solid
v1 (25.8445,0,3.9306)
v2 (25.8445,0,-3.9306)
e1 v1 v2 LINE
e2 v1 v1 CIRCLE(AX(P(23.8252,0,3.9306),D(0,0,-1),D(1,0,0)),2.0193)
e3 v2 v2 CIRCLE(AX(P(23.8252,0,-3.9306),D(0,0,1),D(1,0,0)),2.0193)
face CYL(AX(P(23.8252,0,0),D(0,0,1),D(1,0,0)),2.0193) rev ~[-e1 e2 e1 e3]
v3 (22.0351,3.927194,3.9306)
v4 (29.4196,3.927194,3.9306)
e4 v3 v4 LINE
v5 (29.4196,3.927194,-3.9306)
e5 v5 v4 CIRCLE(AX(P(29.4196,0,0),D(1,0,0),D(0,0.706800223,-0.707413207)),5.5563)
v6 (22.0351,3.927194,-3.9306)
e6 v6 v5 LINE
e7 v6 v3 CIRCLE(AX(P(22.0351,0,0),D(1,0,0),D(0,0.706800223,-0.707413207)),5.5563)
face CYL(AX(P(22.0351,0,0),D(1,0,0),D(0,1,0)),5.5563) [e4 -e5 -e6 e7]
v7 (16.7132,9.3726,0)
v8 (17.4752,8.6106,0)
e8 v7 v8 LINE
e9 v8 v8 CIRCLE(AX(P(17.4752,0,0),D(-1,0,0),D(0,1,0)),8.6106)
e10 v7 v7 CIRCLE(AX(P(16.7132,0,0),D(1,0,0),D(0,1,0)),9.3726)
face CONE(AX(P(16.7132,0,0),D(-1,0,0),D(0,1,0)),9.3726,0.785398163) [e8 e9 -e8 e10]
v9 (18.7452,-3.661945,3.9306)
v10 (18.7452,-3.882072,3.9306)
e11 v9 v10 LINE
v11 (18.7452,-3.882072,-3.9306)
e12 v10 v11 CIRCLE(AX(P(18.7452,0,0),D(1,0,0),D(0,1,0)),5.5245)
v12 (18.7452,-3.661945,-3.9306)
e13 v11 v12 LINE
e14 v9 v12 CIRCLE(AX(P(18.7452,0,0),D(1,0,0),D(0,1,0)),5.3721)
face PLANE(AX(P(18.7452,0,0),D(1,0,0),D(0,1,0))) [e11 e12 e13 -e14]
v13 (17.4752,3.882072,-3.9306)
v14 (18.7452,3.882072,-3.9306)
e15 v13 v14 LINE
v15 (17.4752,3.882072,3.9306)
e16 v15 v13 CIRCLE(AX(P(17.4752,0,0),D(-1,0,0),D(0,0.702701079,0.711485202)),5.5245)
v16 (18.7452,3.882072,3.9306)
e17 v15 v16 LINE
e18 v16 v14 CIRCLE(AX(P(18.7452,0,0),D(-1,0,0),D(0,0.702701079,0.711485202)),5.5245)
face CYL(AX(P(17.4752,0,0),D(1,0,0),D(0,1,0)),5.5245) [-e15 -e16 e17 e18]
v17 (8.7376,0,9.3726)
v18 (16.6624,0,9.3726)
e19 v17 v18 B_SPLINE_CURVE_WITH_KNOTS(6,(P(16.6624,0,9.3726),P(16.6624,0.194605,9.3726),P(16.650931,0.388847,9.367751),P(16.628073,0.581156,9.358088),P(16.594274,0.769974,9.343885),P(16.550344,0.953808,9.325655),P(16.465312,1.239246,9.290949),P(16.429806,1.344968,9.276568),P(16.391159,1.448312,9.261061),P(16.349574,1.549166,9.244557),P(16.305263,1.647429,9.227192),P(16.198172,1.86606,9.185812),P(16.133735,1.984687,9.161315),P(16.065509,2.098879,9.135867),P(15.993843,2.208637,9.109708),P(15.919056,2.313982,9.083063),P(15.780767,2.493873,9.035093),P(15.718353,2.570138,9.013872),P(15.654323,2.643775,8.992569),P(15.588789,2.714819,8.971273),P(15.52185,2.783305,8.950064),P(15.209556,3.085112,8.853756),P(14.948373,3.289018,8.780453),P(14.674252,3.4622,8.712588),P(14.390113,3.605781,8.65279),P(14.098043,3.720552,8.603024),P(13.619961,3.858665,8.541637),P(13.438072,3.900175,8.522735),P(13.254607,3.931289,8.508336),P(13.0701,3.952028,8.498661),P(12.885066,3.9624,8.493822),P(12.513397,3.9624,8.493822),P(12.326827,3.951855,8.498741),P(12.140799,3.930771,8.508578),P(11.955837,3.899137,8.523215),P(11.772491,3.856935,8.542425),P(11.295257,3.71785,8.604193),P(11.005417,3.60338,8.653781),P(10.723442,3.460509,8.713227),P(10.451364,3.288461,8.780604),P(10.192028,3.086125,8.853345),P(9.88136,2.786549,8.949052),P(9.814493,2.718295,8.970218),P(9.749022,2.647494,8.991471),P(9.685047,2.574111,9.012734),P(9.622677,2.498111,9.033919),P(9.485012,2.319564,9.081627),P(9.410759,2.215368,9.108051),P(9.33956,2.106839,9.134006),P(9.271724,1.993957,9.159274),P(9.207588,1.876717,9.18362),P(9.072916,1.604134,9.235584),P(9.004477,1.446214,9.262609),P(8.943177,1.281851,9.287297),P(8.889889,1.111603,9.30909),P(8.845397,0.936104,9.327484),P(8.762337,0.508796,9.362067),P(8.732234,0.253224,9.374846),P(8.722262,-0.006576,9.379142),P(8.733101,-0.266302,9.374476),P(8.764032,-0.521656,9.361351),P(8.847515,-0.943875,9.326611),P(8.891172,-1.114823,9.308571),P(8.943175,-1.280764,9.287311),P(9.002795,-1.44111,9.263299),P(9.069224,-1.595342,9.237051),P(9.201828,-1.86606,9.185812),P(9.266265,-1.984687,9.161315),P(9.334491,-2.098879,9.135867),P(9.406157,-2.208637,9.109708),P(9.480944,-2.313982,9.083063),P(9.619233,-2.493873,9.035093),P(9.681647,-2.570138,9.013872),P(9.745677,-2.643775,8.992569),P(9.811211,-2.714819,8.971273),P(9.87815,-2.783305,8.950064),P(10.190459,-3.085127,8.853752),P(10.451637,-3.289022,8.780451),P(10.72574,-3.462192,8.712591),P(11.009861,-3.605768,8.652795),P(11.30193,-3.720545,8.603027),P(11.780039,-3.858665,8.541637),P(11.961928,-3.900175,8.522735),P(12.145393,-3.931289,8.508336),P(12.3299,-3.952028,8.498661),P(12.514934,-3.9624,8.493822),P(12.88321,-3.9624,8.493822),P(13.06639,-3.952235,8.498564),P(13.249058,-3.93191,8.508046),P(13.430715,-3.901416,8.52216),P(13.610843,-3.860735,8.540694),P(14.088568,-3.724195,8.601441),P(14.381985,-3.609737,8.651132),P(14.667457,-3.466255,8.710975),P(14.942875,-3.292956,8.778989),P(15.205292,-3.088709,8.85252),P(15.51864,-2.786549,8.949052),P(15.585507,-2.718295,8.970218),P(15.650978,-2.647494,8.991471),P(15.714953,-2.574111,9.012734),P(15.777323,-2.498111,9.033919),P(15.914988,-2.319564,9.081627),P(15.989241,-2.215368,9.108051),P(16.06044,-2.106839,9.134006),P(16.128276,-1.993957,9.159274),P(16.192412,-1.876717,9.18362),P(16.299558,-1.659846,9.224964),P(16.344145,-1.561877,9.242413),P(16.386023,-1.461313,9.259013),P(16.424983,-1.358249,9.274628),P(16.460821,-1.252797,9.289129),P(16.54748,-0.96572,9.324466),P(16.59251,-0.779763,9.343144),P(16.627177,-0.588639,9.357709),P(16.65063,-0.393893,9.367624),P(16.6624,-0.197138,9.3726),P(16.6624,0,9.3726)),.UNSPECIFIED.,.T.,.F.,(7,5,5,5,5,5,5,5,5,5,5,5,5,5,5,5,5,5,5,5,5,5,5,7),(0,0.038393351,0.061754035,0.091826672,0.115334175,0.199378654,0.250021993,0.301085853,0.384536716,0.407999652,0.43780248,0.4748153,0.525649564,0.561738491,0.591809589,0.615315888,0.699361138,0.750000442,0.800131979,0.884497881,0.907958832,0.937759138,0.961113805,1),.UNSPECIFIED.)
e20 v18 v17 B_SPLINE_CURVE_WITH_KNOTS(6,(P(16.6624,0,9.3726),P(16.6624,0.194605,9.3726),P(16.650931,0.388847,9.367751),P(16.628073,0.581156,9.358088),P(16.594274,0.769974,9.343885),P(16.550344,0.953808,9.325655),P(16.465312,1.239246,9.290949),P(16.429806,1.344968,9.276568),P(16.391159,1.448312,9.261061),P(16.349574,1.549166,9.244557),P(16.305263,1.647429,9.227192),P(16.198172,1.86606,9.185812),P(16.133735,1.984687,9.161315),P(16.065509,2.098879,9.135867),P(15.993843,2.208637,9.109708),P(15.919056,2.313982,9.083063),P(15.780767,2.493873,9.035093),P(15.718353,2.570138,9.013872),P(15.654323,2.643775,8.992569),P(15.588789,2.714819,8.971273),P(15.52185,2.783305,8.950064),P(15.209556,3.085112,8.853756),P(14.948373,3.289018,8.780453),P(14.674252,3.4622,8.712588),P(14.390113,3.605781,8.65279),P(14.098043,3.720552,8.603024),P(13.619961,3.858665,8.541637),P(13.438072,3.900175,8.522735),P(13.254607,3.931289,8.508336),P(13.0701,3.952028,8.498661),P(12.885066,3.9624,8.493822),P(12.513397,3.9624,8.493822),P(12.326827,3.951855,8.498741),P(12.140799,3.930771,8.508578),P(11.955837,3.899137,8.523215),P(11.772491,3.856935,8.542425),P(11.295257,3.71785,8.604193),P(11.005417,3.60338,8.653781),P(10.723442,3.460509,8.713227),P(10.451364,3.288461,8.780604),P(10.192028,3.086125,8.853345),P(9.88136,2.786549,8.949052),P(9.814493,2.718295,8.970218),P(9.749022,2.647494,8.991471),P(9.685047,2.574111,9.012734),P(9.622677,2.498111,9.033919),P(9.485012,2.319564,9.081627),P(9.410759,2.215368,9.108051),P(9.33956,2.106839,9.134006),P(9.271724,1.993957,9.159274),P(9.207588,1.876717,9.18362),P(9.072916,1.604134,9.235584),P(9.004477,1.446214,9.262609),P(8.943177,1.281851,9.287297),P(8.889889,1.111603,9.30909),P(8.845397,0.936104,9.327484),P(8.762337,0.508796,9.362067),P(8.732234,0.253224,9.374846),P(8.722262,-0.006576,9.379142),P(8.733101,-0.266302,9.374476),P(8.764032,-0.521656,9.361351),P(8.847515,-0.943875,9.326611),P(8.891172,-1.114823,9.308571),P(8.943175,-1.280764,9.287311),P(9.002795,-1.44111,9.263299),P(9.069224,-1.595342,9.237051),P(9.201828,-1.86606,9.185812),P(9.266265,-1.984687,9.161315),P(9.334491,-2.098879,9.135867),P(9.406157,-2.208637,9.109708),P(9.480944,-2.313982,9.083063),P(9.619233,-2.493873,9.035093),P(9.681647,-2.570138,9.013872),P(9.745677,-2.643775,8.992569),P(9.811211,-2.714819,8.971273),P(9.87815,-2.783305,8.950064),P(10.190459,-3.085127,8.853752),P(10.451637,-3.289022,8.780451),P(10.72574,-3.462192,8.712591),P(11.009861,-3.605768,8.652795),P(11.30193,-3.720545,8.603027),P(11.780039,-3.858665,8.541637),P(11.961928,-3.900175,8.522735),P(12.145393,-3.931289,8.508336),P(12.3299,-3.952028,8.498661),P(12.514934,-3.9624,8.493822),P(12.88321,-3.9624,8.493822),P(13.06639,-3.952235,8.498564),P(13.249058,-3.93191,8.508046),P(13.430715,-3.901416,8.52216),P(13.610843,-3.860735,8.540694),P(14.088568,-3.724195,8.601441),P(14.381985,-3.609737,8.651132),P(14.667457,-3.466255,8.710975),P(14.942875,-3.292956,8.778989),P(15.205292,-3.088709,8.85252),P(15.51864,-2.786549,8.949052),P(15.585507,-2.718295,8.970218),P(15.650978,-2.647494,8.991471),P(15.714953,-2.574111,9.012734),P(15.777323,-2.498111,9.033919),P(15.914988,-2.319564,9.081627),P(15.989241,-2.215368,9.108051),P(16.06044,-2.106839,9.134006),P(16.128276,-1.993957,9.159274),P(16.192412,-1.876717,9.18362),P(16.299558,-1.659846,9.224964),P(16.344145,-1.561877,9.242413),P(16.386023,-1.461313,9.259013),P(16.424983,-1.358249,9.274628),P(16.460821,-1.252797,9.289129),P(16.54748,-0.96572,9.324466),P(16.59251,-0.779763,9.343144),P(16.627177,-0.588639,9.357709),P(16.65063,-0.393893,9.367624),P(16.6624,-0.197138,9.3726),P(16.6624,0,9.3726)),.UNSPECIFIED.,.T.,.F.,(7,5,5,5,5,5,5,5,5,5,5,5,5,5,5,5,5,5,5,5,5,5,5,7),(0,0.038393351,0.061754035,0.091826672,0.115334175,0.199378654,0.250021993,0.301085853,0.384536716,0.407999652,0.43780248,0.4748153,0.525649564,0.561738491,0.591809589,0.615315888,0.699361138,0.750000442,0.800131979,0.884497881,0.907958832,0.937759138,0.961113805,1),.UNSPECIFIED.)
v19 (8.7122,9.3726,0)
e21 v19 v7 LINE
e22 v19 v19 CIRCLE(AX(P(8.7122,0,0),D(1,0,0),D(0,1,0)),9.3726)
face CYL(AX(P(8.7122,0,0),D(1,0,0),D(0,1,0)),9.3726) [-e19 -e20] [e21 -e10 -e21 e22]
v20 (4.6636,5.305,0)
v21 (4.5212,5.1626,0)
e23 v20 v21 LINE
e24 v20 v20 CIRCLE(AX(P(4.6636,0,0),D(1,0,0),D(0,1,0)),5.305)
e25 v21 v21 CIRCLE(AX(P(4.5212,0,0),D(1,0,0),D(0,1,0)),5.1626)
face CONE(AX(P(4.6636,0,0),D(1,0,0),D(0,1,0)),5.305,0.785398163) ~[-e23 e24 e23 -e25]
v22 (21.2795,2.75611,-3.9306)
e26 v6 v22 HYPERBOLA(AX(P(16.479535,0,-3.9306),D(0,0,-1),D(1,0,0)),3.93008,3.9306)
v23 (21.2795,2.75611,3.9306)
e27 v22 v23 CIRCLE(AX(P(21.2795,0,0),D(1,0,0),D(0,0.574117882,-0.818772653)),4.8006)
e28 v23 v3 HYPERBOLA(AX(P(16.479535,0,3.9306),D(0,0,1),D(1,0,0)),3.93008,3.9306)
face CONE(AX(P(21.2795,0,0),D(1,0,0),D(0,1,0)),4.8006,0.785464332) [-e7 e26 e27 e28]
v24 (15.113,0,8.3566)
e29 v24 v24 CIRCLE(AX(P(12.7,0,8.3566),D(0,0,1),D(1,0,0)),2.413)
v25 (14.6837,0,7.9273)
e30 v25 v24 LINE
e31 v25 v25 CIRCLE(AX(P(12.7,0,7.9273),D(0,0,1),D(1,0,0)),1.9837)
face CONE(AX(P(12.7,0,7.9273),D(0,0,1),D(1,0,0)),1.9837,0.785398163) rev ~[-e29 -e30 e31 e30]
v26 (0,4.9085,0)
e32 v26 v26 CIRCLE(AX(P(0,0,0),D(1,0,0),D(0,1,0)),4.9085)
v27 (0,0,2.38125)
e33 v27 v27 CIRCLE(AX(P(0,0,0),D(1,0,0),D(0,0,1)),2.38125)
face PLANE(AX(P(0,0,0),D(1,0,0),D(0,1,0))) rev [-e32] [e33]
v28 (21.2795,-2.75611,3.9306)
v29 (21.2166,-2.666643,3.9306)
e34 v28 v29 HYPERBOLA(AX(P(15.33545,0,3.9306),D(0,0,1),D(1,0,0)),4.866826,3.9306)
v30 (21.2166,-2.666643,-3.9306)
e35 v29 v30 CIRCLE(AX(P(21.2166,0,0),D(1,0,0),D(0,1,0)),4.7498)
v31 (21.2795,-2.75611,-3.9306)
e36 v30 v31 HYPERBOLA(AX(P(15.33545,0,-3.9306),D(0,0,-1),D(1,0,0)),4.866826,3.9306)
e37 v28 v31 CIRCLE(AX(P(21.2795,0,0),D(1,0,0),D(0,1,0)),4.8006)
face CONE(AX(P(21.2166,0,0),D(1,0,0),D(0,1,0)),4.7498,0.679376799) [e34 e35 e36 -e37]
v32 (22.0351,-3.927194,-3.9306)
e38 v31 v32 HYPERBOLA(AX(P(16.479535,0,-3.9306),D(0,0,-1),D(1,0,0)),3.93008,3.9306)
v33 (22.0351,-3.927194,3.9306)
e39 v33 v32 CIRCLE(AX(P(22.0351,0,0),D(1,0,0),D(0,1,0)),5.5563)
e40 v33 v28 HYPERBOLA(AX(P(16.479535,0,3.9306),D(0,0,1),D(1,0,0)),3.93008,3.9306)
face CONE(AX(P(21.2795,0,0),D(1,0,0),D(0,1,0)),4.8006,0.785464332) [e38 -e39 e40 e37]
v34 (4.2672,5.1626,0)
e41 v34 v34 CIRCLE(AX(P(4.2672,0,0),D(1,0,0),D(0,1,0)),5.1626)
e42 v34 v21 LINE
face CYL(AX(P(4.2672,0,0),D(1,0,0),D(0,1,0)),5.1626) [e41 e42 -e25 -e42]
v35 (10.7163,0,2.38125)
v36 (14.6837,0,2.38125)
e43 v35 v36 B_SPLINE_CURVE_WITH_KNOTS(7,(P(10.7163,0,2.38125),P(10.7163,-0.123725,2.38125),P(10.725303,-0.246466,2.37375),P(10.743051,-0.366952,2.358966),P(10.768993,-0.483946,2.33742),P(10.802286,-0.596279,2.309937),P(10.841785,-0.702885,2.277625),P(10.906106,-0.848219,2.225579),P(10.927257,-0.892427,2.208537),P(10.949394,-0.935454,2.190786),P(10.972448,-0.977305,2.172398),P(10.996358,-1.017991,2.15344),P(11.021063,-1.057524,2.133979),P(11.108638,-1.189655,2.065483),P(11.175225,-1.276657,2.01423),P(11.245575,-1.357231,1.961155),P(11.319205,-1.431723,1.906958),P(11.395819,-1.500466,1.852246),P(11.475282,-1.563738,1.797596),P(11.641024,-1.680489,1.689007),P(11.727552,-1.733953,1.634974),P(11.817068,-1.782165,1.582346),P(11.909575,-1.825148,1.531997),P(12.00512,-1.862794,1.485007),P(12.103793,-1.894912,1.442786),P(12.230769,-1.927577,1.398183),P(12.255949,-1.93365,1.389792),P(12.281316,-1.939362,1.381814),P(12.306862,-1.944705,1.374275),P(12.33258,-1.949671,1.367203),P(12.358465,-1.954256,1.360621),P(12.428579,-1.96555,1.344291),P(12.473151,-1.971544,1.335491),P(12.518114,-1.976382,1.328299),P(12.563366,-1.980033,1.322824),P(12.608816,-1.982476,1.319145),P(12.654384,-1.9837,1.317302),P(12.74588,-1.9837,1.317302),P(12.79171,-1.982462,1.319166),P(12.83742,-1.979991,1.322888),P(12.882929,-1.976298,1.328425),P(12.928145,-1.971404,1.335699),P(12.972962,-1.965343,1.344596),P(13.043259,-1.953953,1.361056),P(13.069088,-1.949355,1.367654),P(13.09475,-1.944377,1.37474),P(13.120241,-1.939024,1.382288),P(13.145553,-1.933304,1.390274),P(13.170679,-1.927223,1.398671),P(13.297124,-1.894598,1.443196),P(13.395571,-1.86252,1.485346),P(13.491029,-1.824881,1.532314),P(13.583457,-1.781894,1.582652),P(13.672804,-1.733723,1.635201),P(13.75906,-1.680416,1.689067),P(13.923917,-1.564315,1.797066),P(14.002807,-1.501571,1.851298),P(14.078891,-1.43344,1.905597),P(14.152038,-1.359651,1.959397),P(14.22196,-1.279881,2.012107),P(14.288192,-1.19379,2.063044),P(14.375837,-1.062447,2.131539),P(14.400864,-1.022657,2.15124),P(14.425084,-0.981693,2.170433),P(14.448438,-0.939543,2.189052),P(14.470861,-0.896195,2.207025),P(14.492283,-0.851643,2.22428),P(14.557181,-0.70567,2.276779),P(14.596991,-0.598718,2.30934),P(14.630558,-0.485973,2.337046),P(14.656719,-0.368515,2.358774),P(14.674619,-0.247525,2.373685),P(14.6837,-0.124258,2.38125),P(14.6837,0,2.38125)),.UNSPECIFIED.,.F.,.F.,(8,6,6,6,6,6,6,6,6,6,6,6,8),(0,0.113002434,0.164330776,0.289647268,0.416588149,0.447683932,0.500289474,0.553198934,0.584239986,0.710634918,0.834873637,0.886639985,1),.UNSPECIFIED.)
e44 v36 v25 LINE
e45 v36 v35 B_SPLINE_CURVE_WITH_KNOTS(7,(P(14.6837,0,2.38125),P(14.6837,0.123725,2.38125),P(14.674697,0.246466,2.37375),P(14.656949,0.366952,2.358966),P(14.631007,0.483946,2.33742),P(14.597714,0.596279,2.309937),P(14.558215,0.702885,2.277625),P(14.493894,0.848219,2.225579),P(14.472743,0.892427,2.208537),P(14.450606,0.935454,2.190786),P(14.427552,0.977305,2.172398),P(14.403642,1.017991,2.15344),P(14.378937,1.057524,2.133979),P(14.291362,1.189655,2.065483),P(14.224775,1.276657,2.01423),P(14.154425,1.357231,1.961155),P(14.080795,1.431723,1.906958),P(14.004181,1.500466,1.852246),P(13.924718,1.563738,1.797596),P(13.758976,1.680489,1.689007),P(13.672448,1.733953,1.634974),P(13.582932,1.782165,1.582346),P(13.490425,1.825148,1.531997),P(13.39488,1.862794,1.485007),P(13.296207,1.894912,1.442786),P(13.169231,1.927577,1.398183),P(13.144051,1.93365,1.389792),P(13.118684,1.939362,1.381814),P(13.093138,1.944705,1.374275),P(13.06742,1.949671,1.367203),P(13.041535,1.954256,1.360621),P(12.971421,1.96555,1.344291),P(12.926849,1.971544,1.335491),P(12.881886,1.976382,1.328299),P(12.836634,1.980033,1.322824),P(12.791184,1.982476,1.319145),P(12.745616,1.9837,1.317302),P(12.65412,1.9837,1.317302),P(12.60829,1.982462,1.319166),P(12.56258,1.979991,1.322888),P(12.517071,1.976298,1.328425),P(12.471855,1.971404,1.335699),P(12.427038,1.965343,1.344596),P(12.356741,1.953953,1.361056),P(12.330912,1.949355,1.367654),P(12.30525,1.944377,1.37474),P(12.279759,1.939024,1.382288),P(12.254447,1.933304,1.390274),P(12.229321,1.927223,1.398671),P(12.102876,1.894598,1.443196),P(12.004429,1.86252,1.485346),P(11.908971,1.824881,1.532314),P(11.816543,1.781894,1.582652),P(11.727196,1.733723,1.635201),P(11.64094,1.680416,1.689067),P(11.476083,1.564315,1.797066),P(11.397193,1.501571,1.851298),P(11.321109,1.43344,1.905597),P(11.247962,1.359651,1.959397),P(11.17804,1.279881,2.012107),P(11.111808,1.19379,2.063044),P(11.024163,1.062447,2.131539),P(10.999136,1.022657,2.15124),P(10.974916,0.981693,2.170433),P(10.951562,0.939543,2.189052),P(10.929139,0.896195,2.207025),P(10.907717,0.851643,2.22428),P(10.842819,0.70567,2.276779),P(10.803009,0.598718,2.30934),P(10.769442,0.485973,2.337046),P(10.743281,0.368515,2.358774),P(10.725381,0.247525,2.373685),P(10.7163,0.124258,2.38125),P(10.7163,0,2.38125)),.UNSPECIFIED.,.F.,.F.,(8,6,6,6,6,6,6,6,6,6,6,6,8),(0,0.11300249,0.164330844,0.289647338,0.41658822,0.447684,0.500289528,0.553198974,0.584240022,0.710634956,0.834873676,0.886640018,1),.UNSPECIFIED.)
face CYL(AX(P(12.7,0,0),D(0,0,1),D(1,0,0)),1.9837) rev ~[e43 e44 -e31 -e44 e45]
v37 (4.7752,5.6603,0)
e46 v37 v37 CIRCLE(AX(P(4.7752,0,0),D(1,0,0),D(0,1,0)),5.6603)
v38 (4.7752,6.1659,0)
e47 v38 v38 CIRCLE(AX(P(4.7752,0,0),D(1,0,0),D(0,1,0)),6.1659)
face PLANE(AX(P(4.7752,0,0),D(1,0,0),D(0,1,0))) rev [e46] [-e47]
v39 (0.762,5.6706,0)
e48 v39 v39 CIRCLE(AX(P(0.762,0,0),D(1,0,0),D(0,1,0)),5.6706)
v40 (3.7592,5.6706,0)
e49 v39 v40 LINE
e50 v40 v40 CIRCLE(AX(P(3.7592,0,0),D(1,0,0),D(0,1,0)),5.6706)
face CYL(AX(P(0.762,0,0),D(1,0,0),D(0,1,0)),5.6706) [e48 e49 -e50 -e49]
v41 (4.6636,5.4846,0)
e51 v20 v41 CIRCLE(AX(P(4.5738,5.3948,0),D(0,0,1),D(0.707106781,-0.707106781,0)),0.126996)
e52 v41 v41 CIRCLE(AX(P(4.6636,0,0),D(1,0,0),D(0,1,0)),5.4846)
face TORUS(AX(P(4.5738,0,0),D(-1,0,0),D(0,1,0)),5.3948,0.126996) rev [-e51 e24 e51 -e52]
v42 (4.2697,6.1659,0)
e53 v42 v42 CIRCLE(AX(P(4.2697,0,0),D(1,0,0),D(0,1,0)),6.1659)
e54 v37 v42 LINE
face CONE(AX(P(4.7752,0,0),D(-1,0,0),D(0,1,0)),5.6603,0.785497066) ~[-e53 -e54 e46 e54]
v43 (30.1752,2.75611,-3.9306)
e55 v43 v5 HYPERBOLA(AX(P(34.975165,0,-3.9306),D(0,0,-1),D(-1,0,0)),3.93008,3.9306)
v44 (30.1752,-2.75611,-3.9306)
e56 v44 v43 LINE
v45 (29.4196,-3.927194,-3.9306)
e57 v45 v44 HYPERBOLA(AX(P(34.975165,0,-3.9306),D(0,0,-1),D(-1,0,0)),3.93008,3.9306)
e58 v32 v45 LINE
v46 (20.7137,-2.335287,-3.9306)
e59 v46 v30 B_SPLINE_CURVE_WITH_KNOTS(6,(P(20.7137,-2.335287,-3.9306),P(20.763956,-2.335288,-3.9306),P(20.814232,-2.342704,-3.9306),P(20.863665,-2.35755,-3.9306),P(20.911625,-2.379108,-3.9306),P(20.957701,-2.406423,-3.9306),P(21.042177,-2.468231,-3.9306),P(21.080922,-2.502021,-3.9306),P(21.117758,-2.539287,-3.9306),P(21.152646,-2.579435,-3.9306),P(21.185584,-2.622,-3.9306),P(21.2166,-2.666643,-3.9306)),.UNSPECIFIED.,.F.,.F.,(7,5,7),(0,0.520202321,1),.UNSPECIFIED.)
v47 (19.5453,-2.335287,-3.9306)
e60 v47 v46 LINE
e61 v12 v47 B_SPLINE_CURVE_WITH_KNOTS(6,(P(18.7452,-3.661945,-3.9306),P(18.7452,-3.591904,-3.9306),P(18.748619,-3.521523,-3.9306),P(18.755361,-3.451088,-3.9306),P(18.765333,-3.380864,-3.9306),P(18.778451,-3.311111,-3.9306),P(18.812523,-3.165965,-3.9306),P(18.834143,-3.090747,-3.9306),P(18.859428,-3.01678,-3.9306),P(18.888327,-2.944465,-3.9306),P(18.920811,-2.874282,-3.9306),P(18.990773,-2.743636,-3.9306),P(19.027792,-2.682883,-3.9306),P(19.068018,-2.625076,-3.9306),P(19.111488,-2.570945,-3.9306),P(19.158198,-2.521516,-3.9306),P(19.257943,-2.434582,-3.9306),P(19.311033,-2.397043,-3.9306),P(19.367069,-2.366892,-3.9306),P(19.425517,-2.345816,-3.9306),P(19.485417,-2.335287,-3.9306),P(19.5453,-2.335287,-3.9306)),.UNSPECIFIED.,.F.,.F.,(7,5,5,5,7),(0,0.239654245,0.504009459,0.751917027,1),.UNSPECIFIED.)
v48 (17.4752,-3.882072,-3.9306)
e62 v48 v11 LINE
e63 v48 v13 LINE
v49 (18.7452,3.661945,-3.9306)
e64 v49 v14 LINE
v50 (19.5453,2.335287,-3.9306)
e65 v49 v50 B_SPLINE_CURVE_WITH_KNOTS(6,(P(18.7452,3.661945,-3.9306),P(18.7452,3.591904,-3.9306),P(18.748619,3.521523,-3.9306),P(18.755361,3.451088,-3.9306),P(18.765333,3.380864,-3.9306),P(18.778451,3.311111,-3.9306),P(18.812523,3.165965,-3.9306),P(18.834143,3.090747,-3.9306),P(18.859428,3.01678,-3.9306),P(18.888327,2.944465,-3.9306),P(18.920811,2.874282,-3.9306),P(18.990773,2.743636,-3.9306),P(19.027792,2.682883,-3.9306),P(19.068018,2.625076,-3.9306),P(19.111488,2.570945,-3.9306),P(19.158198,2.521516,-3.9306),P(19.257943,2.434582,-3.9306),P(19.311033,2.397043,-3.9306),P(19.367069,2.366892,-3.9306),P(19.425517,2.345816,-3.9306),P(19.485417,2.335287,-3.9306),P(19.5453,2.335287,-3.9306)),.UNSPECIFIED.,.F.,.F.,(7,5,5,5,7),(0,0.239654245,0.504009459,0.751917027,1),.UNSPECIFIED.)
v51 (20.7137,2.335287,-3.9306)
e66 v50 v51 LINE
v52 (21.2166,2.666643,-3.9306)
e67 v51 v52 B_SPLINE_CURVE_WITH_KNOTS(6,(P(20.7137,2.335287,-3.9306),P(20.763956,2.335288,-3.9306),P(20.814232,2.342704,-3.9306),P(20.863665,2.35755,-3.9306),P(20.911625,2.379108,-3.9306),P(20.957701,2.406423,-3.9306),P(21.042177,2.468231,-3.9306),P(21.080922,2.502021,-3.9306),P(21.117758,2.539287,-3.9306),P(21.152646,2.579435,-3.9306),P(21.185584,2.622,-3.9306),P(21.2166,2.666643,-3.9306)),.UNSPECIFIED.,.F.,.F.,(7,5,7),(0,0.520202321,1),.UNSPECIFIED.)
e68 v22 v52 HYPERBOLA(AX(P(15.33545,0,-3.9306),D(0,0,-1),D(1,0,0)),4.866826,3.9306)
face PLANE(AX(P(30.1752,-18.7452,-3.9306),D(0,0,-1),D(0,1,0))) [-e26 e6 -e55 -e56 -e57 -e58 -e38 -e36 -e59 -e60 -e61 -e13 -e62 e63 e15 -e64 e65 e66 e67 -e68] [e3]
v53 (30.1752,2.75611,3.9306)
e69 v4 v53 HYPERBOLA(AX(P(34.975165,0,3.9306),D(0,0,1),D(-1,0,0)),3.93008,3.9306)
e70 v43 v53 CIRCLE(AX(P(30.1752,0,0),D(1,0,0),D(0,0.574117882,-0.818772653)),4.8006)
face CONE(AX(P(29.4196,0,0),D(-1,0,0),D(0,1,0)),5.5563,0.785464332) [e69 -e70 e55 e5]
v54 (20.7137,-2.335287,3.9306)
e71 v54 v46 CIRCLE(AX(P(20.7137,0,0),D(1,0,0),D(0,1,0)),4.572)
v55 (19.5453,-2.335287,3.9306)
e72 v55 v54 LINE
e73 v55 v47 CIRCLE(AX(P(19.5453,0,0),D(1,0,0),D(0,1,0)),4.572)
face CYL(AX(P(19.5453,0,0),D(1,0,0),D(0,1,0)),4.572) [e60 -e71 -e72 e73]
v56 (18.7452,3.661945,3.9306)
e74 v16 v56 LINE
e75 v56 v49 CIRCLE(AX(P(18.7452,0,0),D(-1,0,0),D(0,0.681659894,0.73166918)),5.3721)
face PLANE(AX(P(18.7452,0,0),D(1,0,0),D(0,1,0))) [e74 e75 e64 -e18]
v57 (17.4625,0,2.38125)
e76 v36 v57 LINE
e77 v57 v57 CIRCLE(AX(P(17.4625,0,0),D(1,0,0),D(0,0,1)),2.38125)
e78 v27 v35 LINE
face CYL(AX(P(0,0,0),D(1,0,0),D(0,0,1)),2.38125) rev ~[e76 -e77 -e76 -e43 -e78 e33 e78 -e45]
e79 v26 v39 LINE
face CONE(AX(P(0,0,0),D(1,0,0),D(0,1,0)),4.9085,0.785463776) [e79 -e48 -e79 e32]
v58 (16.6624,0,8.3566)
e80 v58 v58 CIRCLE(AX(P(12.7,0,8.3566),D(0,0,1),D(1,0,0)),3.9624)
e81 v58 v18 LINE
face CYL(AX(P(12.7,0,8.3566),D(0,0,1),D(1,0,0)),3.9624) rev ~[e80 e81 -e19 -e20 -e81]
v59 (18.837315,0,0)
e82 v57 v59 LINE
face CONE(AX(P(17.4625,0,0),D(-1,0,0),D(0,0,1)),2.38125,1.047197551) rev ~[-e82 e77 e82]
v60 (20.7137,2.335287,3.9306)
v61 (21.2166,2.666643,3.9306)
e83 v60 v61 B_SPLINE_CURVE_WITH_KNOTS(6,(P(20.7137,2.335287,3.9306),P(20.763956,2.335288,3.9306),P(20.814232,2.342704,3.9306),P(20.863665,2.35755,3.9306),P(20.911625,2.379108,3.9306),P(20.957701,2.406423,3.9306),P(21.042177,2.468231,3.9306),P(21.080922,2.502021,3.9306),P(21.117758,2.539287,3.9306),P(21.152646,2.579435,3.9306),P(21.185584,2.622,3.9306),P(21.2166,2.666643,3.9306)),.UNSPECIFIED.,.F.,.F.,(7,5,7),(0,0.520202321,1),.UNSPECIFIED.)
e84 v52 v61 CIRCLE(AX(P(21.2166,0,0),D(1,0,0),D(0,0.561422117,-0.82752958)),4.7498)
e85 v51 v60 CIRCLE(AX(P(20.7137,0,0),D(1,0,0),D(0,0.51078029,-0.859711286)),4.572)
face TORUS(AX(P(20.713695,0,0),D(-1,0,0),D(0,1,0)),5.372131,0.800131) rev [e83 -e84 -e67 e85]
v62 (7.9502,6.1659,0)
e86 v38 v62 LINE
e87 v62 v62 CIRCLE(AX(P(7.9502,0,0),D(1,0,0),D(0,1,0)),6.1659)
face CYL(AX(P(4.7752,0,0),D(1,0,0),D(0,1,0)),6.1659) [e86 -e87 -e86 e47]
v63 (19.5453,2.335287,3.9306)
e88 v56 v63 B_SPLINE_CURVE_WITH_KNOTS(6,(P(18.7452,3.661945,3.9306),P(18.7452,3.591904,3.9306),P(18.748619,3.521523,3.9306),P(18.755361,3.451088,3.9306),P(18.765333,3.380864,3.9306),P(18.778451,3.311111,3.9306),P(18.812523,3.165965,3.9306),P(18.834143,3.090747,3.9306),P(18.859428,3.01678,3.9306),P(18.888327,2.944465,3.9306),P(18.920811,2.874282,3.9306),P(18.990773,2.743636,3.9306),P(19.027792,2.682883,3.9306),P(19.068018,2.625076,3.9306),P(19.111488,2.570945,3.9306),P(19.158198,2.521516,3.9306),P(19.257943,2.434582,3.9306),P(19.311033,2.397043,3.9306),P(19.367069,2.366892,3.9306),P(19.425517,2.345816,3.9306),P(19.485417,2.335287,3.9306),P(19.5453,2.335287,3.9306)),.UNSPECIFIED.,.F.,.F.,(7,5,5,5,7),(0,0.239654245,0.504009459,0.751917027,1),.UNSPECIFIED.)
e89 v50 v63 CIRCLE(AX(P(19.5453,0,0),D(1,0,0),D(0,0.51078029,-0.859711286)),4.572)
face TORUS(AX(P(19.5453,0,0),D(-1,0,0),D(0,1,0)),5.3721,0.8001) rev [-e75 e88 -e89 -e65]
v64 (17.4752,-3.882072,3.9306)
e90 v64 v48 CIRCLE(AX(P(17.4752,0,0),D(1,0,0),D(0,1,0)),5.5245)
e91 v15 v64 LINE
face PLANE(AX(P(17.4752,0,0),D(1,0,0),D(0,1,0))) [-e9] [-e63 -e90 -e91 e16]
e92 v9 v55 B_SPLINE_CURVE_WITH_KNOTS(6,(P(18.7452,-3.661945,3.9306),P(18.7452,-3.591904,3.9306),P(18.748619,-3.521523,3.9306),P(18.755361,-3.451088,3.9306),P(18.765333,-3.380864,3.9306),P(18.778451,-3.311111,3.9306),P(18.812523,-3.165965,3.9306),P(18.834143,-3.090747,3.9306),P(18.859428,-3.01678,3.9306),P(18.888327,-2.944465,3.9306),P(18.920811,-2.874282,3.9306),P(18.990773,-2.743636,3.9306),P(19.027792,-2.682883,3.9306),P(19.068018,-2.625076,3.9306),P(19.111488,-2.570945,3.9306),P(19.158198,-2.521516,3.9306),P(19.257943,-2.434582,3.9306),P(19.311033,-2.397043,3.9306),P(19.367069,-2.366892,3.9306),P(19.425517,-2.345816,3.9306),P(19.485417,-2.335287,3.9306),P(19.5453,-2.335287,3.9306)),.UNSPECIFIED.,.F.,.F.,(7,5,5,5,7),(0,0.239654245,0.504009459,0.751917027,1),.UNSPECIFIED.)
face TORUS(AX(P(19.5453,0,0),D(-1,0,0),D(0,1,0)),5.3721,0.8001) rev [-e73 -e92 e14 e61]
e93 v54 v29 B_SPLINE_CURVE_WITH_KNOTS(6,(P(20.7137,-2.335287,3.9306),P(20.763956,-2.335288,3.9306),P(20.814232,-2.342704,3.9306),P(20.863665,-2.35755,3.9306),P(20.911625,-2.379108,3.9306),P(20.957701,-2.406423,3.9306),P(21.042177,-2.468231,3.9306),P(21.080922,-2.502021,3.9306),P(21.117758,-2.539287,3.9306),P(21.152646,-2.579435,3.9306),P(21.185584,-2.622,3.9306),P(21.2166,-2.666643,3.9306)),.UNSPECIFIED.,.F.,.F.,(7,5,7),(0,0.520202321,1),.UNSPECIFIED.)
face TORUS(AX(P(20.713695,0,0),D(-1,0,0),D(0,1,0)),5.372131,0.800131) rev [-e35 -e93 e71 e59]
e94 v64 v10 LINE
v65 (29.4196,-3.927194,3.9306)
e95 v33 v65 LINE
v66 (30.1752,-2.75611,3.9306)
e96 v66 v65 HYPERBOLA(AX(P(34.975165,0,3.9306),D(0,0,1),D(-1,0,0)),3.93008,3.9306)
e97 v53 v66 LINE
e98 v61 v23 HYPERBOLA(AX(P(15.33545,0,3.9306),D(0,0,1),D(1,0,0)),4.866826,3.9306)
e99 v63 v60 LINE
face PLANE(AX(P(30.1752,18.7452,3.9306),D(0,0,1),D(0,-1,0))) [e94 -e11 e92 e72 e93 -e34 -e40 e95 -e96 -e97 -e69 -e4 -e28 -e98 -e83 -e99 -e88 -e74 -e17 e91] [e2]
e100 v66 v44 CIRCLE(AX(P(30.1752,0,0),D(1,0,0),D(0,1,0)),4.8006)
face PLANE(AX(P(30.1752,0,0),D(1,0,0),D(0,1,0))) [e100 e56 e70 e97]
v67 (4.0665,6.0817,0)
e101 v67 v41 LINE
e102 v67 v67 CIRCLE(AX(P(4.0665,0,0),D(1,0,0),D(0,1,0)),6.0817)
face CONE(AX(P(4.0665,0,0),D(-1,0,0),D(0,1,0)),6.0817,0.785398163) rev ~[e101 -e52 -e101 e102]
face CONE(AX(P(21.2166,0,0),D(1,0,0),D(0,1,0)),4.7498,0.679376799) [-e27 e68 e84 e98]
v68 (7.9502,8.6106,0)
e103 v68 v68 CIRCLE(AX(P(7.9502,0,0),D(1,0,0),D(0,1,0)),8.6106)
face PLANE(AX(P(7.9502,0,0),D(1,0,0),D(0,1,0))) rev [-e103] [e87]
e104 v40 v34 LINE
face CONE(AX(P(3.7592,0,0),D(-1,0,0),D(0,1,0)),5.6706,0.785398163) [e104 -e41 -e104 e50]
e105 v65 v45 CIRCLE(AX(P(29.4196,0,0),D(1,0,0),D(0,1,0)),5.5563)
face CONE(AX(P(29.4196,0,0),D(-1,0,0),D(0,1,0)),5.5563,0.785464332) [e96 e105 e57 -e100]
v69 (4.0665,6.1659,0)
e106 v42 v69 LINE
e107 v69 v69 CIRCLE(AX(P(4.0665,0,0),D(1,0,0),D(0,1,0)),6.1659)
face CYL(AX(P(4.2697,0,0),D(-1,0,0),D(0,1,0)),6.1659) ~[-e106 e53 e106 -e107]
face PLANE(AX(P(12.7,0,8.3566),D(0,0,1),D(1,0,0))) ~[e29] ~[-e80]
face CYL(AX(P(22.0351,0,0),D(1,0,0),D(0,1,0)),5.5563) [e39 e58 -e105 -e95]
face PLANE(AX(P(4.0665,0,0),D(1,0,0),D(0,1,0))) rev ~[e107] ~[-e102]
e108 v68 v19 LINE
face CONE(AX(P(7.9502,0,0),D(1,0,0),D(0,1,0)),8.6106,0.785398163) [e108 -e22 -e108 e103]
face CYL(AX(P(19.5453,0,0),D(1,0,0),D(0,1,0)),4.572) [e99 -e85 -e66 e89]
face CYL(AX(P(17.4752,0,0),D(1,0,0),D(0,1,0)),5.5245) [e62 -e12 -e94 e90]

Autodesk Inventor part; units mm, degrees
sketch "Sketch_8" plane through (0, 0, 0) normal (0, 0, 1) x (1, 0, 0)
  line L0 (17.4752, 0) -> (0, 0)
  line L1 (0, 0) -> (0, 4.9085)
  line L2 (0, 4.9085) -> (0.762, 5.6706)
  line L3 (0.762, 5.6706) -> (3.7592, 5.6706)
  line L4 (3.7592, 5.6706) -> (4.2672, 5.1626)
  line L5 (4.2672, 5.1626) -> (4.7752, 5.1626)
  line L6 (4.7752, 5.1626) -> (4.7752, 6.1659)
  line L7 (4.7752, 6.1659) -> (7.9502, 6.1659)
  line L8 (7.9502, 6.1659) -> (7.9502, 8.6106)
  line L9 (7.9502, 8.6106) -> (8.7122, 9.3726)
  line L10 (8.7122, 9.3726) -> (16.7132, 9.3726)
  line L11 (16.7132, 9.3726) -> (17.4752, 8.6106)
  line L12 (17.4752, 8.6106) -> (17.4752, 0)
  line L13 (17.4752, 0) -> (0, 0)
revolve "Revolution1" add sketch "Sketch_8" angle 360 about axis through (17.4752, 0, 0) along (1, 0, 0)
sketch "Sketch_15" plane through (0, 0, 0) normal (0, 0, 1) x (1, 0, 0)
  line L0 (30.1752, 0) -> (17.4752, 0)
  line L1 (17.4752, 0) -> (17.4752, 5.5245)
  line L2 (17.4752, 5.5245) -> (18.7452, 5.5245)
  line L3 (18.7452, 5.5245) -> (18.7452, 5.3721)
  arc A0 (18.7452, 5.3721) -> (19.5453, 4.572) centre (19.5453, 5.3721) ccw
  line L4 (19.5453, 4.572) -> (20.7137, 4.572)
  arc A1 (20.7137, 4.572) -> (21.2166, 4.7498) centre (20.7137, 5.3721) ccw
  line L5 (21.2166, 4.7498) -> (21.2795, 4.8006)
  line L6 (21.2795, 4.8006) -> (22.0351, 5.5563)
  line L7 (22.0351, 5.5563) -> (29.4196, 5.5563)
  line L8 (29.4196, 5.5563) -> (30.1752, 4.8006)
  line L9 (30.1752, 4.8006) -> (30.1752, 0)
  line L10 (30.1752, 0) -> (17.4752, 0)
revolve "Revolution2" add sketch "Sketch_15" angle 360 about axis through (30.1752, 0, 0) along (1, 0, 0)
thread "Thread1" size "7/16-20 UNF" class "2A" standard "ANSI Unified Screw Threads" full length
sketch "Sketch_9" plane through (30.1752, 0, 0) normal (1, 0, 0) x (0, 0, -1)
  line L0 (-18.7452, -37.4904) -> (18.7452, -37.4904)
  line L1 (18.7452, -37.4904) -> (18.7452, 37.4904)
  line L2 (18.7452, 37.4904) -> (-18.7452, 37.4904)
  line L3 (-18.7452, 37.4904) -> (-18.7452, -37.4904)
  line L4 (-3.9306, -18.7452) -> (3.9306, -18.7452)
  line L5 (3.9306, -18.7452) -> (3.9306, 18.7452)
  line L6 (3.9306, 18.7452) -> (-3.9306, 18.7452)
  line L7 (-3.9306, 18.7452) -> (-3.9306, -18.7452)
extrude "Extrusion1" cut sketch "Sketch_9" against normal blind 12.7
sketch "Sketch4" plane through (0, 0, 0) normal (-1, 0, 0) x (0, 0, 1)
  point P0 (0, 0)
hole "Hole1" at (0, 0, 0) direction (1, 0, 0) diameter 4.7625 depth 17.4625 tip angle 120
sketch "Sketch_16" plane through (0, 0, 0) normal (0, 1, 0) x (-1, 0, 0)
  line L0 (-12.7, 9.3726) -> (-12.7, 0)
  line L1 (-12.7, 0) -> (-14.6837, 0)
  line L2 (-14.6837, 0) -> (-14.6837, 7.9273)
  line L3 (-14.6837, 7.9273) -> (-15.113, 8.3566)
  line L4 (-15.113, 8.3566) -> (-16.6624, 8.3566)
  line L5 (-16.6624, 8.3566) -> (-16.6624, 9.3726)
  line L6 (-16.6624, 9.3726) -> (-12.7, 9.3726)
  line L7 (-12.7, 9.3726) -> (-12.7, 0)
revolve "Revolution3" cut sketch "Sketch_16" angle 360 about axis through (12.7, 0, 9.3726) along (0, 0, 1)
thread "Thread2" size "10-32 UNF" class "2B" standard "ANSI Unified Screw Threads" length 5.5461
sketch "Sketch_24" plane through (0, 0, 0) normal (0, 0, 1) x (1, 0, 0)
  line L0 (4.7752, 0) -> (4.2672, 0)
  line L1 (4.0665, 6.1659) -> (4.0665, 6.0817)
  line L2 (4.0665, 6.0817) -> (4.6636, 5.4846)
  arc A0 (4.6636, 5.305) -> (4.6636, 5.4846) centre (4.5738, 5.3948) ccw
  line L3 (4.6636, 5.305) -> (4.5212, 5.1626)
  line L4 (4.5212, 5.1626) -> (4.2672, 5.1626)
  line L5 (4.2672, 5.1626) -> (4.2672, 4.9085)
  line L6 (4.2672, 4.9085) -> (4.7752, 4.9085)
  line L7 (4.7752, 4.9085) -> (4.7752, 5.6603)
  line L8 (4.7752, 5.6603) -> (4.2697, 6.1659)
  line L9 (4.2697, 6.1659) -> (4.0665, 6.1659)
revolve "Revolution4" add sketch "Sketch_24" angle 360 about axis through (4.7752, 0, 0) along (1, 0, 0)
sketch "Sketch_43" plane through (0, 0, 0) normal (0, 0, 1) x (1, 0, 0)
  circle A0 centre (23.8252, 0) radius 2.0193
extrude "Extrusion2" cut sketch "Sketch_43" along normal mid plane 11.7919
ref_plane "1_XY" through (18.7452, 0, 0) normal (1, 0, 0) x (0, 0, -1)
ref_plane "1_YZ" through (18.7452, 0, 0) normal (0, 0, -1) x (0, 1, 0)
ref_plane "1_ZX" through (18.7452, 0, 0) normal (0, 1, 0) x (1, 0, 0)
ref_plane "c1_XY" through (17.4752, 5.5245, 0) normal (0, 0, 1) x (1, 0, 0)
ref_plane "c1_YZ" through (17.4752, 5.5245, 0) normal (1, 0, 0) x (0, 1, 0)
ref_plane "c1_ZX" through (17.4752, 5.5245, 0) normal (0, 1, 0) x (0, 0, 1)
ref_plane "c2_XY" through (17.4752, -5.5245, 0) normal (0, 0, 1) x (1, 0, 0)
ref_plane "c2_YZ" through (17.4752, -5.5245, 0) normal (1, 0, 0) x (0, 1, 0)
ref_plane "c2_ZX" through (17.4752, -5.5245, 0) normal (0, 1, 0) x (0, 0, 1)
ref_plane "cc1_XY" through (17.4752, 0, 0) normal (0, 0, 1) x (1, 0, 0)
ref_plane "cc1_YZ" through (17.4752, 0, 0) normal (1, 0, 0) x (0, 1, 0)
ref_plane "cc1_ZX" through (17.4752, 0, 0) normal (0, 1, 0) x (0, 0, 1)
ref_plane "cc2_XY" through (18.7452, 0, 0) normal (0, 0, 1) x (1, 0, 0)
ref_plane "cc2_YZ" through (18.7452, 0, 0) normal (1, 0, 0) x (0, 1, 0)
ref_plane "cc2_ZX" through (18.7452, 0, 0) normal (0, 1, 0) x (0, 0, 1)
ref_plane "lovra1_XY" through (25.4, 0, 0) normal (1, 0, 0) x (0, 0, -1)
ref_plane "lovra1_YZ" through (25.4, 0, 0) normal (0, 0, -1) x (0, 1, 0)
ref_plane "lovra1_ZX" through (25.4, 0, 0) normal (0, 1, 0) x (1, 0, 0)
ref_plane "lovra2_XY" through (25.4, 4.699, 0) normal (1, 0, 0) x (0, 0, -1)
ref_plane "lovra2_YZ" through (25.4, 4.699, 0) normal (0, 0, -1) x (0, 1, 0)
ref_plane "lovra2_ZX" through (25.4, 4.699, 0) normal (0, 1, 0) x (1, 0, 0)
ref_plane "lovra21_XY" through (0, 0, 5.2705) normal (1, 0, 0) x (0, 0, -1)
ref_plane "lovra21_YZ" through (0, 0, 5.2705) normal (0, 0, -1) x (0, 1, 0)
ref_plane "lovra21_ZX" through (0, 0, 5.2705) normal (0, 1, 0) x (1, 0, 0)
ref_plane "lovra22_XY" through (0, 0, -5.2705) normal (1, 0, 0) x (0, 0, -1)
ref_plane "lovra22_YZ" through (0, 0, -5.2705) normal (0, 0, -1) x (0, 1, 0)
ref_plane "lovra22_ZX" through (0, 0, -5.2705) normal (0, 1, 0) x (1, 0, 0)
ref_plane "lovra3_XY" through (25.4, -4.699, 0) normal (1, 0, 0) x (0, 0, -1)
ref_plane "lovra3_YZ" through (25.4, -4.699, 0) normal (0, 0, -1) x (0, 1, 0)
ref_plane "lovra3_ZX" through (25.4, -4.699, 0) normal (0, 1, 0) x (1, 0, 0)
ref_plane "olen_XY" through (23.8252, 0, 0) normal (1, 0, 0) x (0, 0, -1)
ref_plane "olen_YZ" through (23.8252, 0, 0) normal (0, 0, -1) x (0, 1, 0)
ref_plane "olen_ZX" through (23.8252, 0, 0) normal (0, 1, 0) x (1, 0, 0)
ref_plane "p1_XY" through (30.1752, 0, 3.9306) normal (1, 0, 0) x (0, 0, -1)
ref_plane "p1_YZ" through (30.1752, 0, 3.9306) normal (0, 0, -1) x (0, 1, 0)
ref_plane "p1_ZX" through (30.1752, 0, 3.9306) normal (0, 1, 0) x (1, 0, 0)
ref_plane "p2_XY" through (30.1752, 0, -3.9306) normal (1, 0, 0) x (0, 0, -1)
ref_plane "p2_YZ" through (30.1752, 0, -3.9306) normal (0, 0, -1) x (0, 1, 0)
ref_plane "p2_ZX" through (30.1752, 0, -3.9306) normal (0, 1, 0) x (1, 0, 0)
ref_plane "port_XY" through (12.7, 0, 0) normal (0, 0, 1) x (1, 0, 0)
ref_plane "port_YZ" through (12.7, 0, 0) normal (1, 0, 0) x (0, 1, 0)
ref_plane "port_ZX" through (12.7, 0, 0) normal (0, 1, 0) x (0, 0, 1)
ref_plane "port2_XY" through (30.1752, 0, 0) normal (1, 0, 0) x (0, 0, -1)
ref_plane "port2_YZ" through (30.1752, 0, 0) normal (0, 0, -1) x (0, 1, 0)
ref_plane "port2_ZX" through (30.1752, 0, 0) normal (0, 1, 0) x (1, 0, 0)
ref_plane "thd1_XY" through (30.1752, 0, 5.5563) normal (1, 0, 0) x (0, 0, -1)
ref_plane "thd1_YZ" through (30.1752, 0, 5.5563) normal (0, 0, -1) x (0, 1, 0)
ref_plane "thd1_ZX" through (30.1752, 0, 5.5563) normal (0, 1, 0) x (1, 0, 0)
ref_plane "thd2_XY" through (30.1752, 0, -5.5563) normal (1, 0, 0) x (0, 0, -1)
ref_plane "thd2_YZ" through (30.1752, 0, -5.5563) normal (0, 0, -1) x (0, 1, 0)
ref_plane "thd2_ZX" through (30.1752, 0, -5.5563) normal (0, 1, 0) x (1, 0, 0)
ref_plane "to_mounting_bracket_XY" through (17.4752, 0, 0) normal (1, 0, 0) x (0, 0, -1)
ref_plane "to_mounting_bracket_YZ" through (17.4752, 0, 0) normal (0, 0, -1) x (0, 1, 0)
ref_plane "to_mounting_bracket_ZX" through (17.4752, 0, 0) normal (0, 1, 0) x (1, 0, 0)
ref_plane "to_nut_XY" through (18.7452, 0, 0) normal (1, 0, 0) x (0, 0, -1)
ref_plane "to_nut_YZ" through (18.7452, 0, 0) normal (0, 0, -1) x (0, 1, 0)
ref_plane "to_nut_ZX" through (18.7452, 0, 0) normal (0, 1, 0) x (1, 0, 0)
ref_plane "to_pin_XY" through (23.8252, 0, 0) normal (0, 0, 1) x (1, 0, 0)
ref_plane "to_pin_YZ" through (23.8252, 0, 0) normal (1, 0, 0) x (0, 1, 0)
ref_plane "to_pin_ZX" through (23.8252, 0, 0) normal (0, 1, 0) x (0, 0, 1)
ref_plane "to_screw_XY" through (12.7, 0, 0) normal (0, 1, 0) x (1, 0, 0)
ref_plane "to_screw_YZ" through (12.7, 0, 0) normal (1, 0, 0) x (0, 0, -1)
ref_plane "to_screw_ZX" through (12.7, 0, 0) normal (0, 0, -1) x (0, 1, 0)
ref_plane "to_tube_XY" through (4.2672, 0, 0) normal (1, 0, 0) x (0, 0, -1)
ref_plane "to_tube_YZ" through (4.2672, 0, 0) normal (0, 0, -1) x (0, 1, 0)
ref_plane "to_tube_ZX" through (4.2672, 0, 0) normal (0, 1, 0) x (1, 0, 0)
properties part number "01P0000_rear_head"
